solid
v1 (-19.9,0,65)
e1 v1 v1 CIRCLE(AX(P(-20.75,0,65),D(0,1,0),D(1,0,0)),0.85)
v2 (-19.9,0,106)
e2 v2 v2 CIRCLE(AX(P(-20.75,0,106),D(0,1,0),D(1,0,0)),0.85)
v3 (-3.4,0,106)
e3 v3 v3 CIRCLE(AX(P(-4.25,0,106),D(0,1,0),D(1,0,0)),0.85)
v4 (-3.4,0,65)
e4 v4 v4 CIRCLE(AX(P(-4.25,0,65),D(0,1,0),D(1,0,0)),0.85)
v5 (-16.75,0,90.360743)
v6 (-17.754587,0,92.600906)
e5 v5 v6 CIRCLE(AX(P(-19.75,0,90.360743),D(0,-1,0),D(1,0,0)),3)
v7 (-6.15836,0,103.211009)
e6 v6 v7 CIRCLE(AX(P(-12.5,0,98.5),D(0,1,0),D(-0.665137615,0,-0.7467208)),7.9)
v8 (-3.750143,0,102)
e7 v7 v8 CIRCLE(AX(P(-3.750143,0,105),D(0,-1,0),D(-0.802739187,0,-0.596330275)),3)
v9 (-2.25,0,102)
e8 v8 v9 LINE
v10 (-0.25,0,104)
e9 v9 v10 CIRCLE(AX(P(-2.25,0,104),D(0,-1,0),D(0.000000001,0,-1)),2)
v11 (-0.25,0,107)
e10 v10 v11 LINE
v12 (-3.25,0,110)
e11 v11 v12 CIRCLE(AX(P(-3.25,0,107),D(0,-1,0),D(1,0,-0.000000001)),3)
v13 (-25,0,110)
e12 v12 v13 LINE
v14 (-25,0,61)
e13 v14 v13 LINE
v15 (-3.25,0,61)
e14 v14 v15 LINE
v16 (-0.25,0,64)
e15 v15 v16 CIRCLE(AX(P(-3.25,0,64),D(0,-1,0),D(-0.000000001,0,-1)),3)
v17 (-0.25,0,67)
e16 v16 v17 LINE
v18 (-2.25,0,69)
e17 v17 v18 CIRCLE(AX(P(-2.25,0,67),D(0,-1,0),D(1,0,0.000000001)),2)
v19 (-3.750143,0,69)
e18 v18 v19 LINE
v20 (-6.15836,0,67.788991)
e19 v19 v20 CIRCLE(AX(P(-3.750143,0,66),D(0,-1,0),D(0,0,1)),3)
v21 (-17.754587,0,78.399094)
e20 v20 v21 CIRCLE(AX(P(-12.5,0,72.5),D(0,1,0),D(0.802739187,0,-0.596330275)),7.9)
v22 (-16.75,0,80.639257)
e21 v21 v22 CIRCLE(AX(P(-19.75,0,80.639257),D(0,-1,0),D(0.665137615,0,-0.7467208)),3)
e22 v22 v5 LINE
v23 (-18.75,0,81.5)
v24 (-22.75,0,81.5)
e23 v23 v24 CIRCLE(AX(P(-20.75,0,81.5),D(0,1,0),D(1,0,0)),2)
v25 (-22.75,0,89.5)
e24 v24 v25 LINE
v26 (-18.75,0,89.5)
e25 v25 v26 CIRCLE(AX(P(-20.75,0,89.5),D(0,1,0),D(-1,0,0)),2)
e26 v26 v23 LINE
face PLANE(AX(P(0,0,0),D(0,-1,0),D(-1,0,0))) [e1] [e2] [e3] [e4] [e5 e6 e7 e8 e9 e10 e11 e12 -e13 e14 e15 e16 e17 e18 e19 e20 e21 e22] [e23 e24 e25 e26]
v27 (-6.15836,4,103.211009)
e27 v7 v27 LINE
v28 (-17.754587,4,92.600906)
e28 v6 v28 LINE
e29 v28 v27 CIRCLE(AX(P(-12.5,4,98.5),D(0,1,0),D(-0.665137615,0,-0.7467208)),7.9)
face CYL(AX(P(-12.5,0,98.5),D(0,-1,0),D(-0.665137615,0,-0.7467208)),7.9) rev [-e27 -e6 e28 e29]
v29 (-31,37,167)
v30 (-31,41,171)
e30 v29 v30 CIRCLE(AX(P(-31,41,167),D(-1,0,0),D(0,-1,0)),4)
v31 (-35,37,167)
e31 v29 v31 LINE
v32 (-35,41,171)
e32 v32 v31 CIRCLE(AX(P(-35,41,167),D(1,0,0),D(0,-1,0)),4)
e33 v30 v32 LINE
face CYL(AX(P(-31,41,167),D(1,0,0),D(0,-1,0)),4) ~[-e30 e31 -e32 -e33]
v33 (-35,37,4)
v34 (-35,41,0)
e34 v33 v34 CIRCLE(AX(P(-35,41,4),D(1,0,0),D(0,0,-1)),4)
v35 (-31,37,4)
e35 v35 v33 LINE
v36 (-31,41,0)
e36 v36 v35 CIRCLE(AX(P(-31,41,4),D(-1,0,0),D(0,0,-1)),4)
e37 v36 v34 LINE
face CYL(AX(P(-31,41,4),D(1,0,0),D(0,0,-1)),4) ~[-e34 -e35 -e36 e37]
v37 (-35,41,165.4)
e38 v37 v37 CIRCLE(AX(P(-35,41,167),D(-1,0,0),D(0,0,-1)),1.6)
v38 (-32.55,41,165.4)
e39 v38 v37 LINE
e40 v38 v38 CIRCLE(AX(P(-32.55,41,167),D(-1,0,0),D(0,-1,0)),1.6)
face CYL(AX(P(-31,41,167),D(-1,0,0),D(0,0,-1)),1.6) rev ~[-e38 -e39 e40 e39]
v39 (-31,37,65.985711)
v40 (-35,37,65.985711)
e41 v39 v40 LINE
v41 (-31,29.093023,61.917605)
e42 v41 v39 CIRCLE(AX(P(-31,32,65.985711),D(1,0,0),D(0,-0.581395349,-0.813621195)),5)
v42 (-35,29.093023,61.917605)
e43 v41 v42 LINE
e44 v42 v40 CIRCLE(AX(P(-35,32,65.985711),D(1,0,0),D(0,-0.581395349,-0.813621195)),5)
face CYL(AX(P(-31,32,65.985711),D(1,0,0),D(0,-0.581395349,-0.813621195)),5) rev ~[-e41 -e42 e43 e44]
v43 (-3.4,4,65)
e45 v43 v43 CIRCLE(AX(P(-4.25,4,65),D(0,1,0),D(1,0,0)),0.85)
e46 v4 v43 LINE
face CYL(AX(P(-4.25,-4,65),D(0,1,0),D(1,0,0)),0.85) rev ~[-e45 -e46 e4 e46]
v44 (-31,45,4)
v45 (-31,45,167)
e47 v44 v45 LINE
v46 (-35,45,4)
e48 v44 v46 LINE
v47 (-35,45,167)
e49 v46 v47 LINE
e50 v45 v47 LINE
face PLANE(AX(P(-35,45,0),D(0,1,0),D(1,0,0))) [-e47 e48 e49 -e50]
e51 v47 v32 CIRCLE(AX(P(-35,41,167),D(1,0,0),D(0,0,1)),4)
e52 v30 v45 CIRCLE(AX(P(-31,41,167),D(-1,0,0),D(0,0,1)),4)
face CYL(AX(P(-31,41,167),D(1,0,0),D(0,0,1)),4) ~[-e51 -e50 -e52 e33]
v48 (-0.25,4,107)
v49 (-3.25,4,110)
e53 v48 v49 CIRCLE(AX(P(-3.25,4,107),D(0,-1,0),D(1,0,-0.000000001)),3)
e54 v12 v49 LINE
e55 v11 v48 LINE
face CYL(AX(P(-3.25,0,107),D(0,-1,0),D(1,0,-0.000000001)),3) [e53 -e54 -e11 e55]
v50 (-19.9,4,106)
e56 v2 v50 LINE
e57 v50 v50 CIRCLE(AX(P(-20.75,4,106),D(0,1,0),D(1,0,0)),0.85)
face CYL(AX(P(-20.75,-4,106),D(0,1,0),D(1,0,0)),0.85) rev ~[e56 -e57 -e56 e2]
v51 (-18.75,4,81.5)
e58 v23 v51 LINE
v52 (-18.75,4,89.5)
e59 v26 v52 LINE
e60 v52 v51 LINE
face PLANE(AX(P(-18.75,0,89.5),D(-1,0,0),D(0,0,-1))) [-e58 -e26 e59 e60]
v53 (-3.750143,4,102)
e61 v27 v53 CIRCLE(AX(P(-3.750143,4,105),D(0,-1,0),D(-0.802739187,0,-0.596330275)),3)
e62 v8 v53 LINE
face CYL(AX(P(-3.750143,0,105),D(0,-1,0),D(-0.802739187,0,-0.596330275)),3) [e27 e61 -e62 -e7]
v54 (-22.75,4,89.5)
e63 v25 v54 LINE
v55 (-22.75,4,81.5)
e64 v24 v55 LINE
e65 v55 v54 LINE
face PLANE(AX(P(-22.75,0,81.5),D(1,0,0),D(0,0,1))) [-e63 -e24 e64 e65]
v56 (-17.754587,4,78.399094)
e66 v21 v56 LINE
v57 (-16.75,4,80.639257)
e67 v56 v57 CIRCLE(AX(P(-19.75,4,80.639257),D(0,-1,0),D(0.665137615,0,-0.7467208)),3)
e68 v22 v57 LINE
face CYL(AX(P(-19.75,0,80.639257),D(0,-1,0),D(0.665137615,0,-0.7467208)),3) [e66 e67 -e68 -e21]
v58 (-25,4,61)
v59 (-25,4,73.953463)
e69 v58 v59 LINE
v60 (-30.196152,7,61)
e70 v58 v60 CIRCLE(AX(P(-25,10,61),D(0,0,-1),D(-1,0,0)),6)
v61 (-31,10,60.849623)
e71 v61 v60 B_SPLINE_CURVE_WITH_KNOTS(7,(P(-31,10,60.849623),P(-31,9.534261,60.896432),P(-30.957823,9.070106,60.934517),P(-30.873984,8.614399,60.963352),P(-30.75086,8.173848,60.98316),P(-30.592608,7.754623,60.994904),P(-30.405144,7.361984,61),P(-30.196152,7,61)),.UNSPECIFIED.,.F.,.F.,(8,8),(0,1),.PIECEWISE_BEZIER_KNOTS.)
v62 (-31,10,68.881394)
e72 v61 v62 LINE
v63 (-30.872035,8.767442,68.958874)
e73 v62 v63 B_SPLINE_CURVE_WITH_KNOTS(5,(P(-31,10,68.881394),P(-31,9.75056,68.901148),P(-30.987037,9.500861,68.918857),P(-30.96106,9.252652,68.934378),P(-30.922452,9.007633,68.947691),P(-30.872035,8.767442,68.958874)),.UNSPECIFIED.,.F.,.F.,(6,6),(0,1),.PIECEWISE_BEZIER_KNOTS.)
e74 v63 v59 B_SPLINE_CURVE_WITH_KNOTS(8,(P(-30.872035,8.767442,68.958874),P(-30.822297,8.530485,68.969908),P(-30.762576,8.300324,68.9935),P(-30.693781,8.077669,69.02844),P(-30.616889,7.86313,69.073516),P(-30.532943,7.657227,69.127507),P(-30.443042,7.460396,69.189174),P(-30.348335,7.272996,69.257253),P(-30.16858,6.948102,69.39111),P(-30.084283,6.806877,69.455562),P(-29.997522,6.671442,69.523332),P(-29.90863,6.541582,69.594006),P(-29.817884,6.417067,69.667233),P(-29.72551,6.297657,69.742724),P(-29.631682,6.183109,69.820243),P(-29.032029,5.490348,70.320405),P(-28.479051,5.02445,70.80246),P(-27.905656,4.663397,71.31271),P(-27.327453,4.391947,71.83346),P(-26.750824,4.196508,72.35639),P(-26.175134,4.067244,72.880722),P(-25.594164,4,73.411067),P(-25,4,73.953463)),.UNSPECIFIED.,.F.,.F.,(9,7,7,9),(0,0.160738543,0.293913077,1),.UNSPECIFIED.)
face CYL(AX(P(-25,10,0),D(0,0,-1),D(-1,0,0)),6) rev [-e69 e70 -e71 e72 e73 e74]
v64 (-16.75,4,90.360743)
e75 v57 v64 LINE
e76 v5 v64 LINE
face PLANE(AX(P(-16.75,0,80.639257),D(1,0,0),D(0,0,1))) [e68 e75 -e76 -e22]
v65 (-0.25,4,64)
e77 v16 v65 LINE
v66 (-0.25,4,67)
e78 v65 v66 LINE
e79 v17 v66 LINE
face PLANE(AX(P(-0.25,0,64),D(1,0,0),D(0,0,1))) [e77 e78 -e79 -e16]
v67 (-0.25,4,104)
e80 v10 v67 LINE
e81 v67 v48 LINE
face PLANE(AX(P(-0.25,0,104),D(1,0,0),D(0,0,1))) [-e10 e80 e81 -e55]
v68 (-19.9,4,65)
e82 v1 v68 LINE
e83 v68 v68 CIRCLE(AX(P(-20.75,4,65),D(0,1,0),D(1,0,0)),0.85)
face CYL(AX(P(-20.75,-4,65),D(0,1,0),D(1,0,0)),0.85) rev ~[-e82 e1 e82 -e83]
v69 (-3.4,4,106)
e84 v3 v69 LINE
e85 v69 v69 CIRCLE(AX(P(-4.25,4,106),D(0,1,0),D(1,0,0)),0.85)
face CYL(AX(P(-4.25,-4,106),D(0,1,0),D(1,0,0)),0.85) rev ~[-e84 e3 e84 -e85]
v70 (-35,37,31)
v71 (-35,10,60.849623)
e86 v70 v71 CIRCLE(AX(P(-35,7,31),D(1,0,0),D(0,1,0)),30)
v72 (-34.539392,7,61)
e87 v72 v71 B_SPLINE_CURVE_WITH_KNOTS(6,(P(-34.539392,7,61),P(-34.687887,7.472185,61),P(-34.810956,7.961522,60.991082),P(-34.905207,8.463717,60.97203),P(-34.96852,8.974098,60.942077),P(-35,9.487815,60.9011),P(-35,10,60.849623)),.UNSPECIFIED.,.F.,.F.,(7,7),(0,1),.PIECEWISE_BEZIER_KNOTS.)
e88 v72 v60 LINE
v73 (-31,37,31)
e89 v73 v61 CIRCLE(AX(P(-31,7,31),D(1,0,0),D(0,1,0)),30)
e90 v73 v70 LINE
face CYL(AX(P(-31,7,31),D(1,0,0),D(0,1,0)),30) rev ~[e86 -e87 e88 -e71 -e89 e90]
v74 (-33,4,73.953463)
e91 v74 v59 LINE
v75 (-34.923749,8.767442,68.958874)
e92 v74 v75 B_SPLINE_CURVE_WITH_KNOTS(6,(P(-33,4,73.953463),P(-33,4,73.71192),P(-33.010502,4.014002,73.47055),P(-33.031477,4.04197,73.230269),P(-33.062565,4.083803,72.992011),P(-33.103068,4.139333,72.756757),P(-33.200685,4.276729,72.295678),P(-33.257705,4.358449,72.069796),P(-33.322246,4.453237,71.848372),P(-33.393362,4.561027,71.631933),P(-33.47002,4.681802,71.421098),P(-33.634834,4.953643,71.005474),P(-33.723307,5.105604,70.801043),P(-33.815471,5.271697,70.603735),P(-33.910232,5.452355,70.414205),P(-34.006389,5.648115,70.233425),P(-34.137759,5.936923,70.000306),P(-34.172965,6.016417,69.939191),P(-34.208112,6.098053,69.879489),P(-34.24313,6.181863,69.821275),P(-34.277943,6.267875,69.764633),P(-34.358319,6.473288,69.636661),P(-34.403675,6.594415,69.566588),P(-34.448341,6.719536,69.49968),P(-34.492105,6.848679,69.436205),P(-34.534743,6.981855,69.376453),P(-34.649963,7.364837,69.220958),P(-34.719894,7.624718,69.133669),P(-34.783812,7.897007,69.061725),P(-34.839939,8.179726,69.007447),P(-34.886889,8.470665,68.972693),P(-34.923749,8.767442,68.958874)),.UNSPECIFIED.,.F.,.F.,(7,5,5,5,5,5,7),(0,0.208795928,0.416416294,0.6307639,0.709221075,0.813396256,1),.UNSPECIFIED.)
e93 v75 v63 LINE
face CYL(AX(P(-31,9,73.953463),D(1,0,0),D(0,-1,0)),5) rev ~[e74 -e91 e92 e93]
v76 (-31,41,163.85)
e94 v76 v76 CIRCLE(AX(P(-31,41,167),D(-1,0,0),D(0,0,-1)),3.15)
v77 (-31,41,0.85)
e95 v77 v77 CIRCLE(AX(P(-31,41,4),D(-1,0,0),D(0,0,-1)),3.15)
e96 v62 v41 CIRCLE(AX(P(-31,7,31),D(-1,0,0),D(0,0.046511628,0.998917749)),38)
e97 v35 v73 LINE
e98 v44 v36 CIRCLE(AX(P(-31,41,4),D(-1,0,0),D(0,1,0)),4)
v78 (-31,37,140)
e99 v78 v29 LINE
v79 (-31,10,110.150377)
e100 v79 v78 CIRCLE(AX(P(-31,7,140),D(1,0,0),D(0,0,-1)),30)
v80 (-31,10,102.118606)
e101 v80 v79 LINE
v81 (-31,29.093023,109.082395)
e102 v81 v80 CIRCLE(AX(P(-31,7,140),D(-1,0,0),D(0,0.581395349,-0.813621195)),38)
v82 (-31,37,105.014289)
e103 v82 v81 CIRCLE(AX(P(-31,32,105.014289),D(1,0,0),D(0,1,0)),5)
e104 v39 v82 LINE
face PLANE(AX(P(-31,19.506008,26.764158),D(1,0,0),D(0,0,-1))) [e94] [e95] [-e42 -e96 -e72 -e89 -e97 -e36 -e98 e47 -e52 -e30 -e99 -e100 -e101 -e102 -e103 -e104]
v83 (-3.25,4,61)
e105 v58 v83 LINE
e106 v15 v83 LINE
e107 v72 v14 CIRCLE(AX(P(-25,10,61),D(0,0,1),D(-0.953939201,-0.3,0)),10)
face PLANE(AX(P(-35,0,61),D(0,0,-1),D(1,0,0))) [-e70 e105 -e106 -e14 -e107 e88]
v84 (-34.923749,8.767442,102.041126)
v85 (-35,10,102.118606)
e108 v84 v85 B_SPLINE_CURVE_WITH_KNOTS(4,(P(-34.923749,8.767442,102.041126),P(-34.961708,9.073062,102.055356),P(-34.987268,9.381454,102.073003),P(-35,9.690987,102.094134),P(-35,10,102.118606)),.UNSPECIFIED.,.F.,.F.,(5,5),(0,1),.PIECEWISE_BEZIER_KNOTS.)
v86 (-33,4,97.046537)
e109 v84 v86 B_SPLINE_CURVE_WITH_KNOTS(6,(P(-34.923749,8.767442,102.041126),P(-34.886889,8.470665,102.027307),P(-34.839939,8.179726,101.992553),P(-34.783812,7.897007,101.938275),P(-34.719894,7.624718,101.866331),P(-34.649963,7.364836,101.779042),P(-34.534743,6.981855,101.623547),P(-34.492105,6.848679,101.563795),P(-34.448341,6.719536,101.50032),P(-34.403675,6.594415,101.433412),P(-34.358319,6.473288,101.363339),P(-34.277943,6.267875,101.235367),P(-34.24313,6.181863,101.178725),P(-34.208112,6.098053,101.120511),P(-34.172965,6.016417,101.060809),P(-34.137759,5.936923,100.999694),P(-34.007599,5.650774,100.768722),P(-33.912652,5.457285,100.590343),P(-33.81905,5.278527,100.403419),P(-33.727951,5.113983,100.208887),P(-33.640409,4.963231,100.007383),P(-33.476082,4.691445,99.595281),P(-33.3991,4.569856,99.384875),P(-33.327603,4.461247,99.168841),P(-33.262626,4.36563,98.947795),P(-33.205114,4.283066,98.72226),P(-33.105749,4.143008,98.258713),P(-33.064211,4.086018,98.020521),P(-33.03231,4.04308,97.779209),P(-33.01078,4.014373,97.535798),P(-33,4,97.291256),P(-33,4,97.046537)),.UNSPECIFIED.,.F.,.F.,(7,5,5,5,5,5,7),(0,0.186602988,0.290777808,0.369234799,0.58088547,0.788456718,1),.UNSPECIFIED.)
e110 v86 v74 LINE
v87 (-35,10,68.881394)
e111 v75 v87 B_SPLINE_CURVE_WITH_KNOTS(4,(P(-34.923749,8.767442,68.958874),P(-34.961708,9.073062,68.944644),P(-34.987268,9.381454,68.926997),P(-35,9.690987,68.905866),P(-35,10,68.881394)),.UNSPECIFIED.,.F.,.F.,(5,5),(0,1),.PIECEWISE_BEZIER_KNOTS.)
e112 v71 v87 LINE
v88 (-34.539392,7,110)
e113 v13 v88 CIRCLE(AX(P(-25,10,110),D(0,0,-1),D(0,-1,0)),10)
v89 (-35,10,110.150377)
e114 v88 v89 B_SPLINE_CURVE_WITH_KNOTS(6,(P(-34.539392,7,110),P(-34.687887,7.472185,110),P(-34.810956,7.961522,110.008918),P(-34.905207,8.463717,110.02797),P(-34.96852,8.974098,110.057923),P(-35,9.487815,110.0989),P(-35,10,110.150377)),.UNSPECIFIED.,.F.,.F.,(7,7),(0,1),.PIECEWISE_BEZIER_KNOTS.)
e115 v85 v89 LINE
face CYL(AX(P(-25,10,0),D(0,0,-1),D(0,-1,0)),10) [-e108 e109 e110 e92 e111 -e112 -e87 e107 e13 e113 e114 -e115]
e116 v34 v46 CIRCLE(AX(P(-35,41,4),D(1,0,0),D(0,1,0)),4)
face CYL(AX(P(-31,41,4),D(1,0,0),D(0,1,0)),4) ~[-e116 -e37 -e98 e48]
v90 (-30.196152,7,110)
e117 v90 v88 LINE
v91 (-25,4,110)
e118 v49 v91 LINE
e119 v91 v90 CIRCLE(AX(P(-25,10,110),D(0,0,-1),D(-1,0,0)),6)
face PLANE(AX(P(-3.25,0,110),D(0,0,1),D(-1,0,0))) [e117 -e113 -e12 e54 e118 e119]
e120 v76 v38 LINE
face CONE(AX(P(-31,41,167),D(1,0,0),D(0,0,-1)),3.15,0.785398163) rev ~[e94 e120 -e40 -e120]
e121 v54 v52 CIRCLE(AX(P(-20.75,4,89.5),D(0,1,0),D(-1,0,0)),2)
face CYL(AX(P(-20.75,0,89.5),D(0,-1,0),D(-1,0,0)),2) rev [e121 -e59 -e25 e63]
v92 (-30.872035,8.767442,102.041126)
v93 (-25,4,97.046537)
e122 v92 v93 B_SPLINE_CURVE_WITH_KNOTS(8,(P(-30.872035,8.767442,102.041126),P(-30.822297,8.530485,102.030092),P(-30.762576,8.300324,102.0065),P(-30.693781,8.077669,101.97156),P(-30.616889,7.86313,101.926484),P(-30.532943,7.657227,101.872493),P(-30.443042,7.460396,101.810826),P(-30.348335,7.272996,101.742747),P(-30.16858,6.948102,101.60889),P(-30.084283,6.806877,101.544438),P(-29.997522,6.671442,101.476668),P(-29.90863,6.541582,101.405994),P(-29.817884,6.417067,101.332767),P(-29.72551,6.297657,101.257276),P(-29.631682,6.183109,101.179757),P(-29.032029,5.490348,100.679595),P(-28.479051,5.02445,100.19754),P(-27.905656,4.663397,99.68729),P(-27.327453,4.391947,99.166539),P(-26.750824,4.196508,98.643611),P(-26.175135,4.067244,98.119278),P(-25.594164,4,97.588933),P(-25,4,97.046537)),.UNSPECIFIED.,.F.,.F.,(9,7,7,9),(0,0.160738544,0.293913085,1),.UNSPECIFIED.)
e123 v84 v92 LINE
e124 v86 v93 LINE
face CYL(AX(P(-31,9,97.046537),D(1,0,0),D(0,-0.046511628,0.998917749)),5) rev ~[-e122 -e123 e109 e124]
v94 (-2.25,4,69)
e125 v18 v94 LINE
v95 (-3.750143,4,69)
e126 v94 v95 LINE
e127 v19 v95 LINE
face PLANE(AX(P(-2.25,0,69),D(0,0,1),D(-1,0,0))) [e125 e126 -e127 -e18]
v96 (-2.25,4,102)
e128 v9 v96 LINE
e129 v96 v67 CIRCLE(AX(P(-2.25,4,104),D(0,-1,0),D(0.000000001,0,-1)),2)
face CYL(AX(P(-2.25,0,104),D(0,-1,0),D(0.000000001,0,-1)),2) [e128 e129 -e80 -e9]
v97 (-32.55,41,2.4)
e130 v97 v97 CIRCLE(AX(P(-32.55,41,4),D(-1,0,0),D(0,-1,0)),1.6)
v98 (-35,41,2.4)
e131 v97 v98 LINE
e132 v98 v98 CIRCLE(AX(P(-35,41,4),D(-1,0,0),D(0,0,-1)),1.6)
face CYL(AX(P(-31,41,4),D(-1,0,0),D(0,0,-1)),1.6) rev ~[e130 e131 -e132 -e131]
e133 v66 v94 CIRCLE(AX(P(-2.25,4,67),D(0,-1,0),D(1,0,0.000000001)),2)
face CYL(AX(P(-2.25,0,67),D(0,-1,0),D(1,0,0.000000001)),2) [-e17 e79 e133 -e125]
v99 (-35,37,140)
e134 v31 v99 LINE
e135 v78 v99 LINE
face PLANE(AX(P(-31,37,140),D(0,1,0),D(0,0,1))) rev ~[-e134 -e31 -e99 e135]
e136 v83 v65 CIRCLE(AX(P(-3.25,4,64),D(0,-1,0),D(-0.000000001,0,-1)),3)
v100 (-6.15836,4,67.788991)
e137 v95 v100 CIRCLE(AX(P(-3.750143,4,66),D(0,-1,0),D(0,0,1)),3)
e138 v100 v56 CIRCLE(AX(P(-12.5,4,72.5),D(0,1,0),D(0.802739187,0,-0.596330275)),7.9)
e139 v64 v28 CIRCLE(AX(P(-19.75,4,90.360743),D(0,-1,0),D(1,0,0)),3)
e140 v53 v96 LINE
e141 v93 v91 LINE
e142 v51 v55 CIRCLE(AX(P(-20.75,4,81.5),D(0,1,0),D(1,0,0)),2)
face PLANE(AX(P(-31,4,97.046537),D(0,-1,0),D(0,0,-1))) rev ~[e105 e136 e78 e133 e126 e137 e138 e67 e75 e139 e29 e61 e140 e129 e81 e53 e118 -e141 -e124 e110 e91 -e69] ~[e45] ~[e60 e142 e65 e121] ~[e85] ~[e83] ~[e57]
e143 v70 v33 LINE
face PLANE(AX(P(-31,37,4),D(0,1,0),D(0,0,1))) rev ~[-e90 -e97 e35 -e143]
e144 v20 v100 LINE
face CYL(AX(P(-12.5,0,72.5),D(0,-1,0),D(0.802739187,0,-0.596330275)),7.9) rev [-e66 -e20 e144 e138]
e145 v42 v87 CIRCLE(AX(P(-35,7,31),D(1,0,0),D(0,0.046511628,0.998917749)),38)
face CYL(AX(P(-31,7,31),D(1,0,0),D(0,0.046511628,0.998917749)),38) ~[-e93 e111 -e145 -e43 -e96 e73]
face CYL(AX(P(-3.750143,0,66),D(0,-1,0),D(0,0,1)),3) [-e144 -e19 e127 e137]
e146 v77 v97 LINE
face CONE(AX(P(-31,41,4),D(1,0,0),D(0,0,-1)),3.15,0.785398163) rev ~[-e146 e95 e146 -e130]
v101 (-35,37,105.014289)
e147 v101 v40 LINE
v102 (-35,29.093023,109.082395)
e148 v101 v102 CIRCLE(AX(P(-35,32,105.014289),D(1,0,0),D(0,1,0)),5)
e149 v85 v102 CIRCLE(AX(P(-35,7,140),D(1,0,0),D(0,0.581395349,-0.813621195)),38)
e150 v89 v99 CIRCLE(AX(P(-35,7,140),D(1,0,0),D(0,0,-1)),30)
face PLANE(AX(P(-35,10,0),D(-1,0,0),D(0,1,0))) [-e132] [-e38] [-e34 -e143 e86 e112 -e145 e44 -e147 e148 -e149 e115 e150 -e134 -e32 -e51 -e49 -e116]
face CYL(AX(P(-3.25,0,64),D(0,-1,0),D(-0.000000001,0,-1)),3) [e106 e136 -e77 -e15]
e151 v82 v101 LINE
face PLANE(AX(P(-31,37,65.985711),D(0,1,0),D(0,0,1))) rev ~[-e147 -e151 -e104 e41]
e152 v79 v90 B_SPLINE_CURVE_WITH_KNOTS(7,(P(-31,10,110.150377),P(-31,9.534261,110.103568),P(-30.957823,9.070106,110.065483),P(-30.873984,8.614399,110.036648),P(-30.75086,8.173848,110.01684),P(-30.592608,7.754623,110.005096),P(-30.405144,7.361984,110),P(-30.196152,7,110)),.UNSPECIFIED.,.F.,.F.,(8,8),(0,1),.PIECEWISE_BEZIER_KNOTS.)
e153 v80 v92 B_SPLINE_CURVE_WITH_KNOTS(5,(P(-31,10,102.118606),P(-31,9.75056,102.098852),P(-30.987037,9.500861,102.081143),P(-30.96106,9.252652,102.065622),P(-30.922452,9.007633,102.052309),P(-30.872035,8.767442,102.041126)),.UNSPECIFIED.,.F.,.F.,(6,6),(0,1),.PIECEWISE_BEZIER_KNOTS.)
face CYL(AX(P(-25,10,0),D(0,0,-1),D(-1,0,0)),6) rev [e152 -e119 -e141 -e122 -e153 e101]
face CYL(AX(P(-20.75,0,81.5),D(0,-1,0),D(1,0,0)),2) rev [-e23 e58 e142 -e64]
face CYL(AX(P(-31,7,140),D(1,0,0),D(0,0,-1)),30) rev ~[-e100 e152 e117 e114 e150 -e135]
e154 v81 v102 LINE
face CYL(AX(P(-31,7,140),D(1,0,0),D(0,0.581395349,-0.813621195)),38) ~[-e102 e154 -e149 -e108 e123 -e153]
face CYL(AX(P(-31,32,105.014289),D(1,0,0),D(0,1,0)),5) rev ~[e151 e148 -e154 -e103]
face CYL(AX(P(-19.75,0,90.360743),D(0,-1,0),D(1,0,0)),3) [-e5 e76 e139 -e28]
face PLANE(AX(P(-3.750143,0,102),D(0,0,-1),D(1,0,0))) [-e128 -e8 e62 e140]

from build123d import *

# Parameters (mm, degrees)
BOSS_EXTRU_1_DEPTH                             = 171
FRAISAGE_POUR_VIS_T_TE_FRAIS_E_M31_D           = 3.2
FRAISAGE_POUR_VIS_T_TE_FRAIS_E_M31_DEPTH       = 4
FRAISAGE_POUR_VIS_T_TE_FRAIS_E_M31_CSINK_D     = 6.3
FRAISAGE_POUR_VIS_T_TE_FRAIS_E_M31_CSINK_ANGLE = 90
D_GAGEMENT_M1_61_D                             = 1.7
D_GAGEMENT_M1_61_DEPTH                         = 4
ENL_V_MAT_EXTRU_1_DEPTH                        = 4
ENL_V_MAT_EXTRU_2_DEPTH                        = 31.75
ENL_V_MAT_EXTRU_2_DEPTH_BACK                   = 5


with BuildPart() as part:
    # Esquisse1 → Boss.-Extru.1 (new body)
    with BuildSketch(Plane.XY):
        with BuildLine():
            Line((0, 0), (-25, 0))
            ThreePointArc((-25, 0), (-32.071067812, 2.928932188), (-35, 10))
            Line((-35, 10), (-35, 45))
            Line((-35, 45), (-31, 45))
            Line((-31, 45), (-31, 10))
            ThreePointArc((-31, 10), (-29.242640687, 5.757359313), (-25, 4))
            Line((-25, 4), (0, 4))
            Line((0, 4), (0, 0))
        make_face()
    extrude(amount=BOSS_EXTRU_1_DEPTH)

    # Fraisage pour vis à tête fraisée M31
    with Locations(Plane(origin=(-31, 0, 0), x_dir=(0, 0, 1), z_dir=(1, 0, 0))):
        with Locations((4, -41), (167, -41)):
            CounterSinkHole(FRAISAGE_POUR_VIS_T_TE_FRAIS_E_M31_D / 2, FRAISAGE_POUR_VIS_T_TE_FRAIS_E_M31_CSINK_D / 2, depth=FRAISAGE_POUR_VIS_T_TE_FRAIS_E_M31_DEPTH, counter_sink_angle=FRAISAGE_POUR_VIS_T_TE_FRAIS_E_M31_CSINK_ANGLE)

    # Dégagement M1.61
    with Locations(Plane(origin=(0, 0, 0), x_dir=(-1, 0, 0), z_dir=(0, -1, 0))):
        with Locations((20.75, -65), (20.75, -106), (4.25, -106), (4.25, -65)):
            Hole(D_GAGEMENT_M1_61_D / 2, depth=D_GAGEMENT_M1_61_DEPTH)

    # Esquisse6 → Enlèv. mat.-Extru.1 (cut)
    with BuildSketch(Plane.XZ):
        with BuildLine():
            Line((-35, 61), (-3.25, 61))
            ThreePointArc((-3.25, 61), (-1.128679656, 61.878679656), (-0.25, 64))
            Line((-0.25, 64), (-0.25, 67))
            ThreePointArc((-0.25, 67), (-0.835786438, 68.414213562), (-2.25, 69))
            Line((-2.25, 69), (-3.750142858, 69))
            ThreePointArc((-3.750142858, 69), (-5.097923909, 68.680202649), (-6.15836042, 67.788990826))
            ThreePointArc((-6.15836042, 67.788990826), (-17.832822404, 66.671534919), (-17.754587156, 78.399094322))
            ThreePointArc((-17.754587156, 78.399094322), (-17.012643745, 79.411706018), (-16.75, 80.639256723))
            Line((-16.75, 80.639256723), (-16.75, 90.360743277))
            ThreePointArc((-16.75, 90.360743277), (-17.012643745, 91.588293982), (-17.754587156, 92.600905678))
            ThreePointArc((-17.754587156, 92.600905678), (-17.832822404, 104.328465081), (-6.15836042, 103.211009174))
            ThreePointArc((-6.15836042, 103.211009174), (-5.097923909, 102.319797351), (-3.750142858, 102))
            Line((-3.750142858, 102), (-2.25, 102))
            ThreePointArc((-2.25, 102), (-0.835786438, 102.585786438), (-0.25, 104))
            Line((-0.25, 104), (-0.25, 107))
            ThreePointArc((-0.25, 107), (-1.128679656, 109.121320344), (-3.25, 110))
            Line((-3.25, 110), (-35, 110))
            Line((-35, 110), (-35, 171))
            Line((-35, 171), (0, 171))
            Line((0, 171), (0, 0))
            Line((0, 0), (-35, 0))
            Line((-35, 0), (-35, 61))
        make_face()
        with BuildLine():
            Line((-18.75, 89.5), (-18.75, 81.5))
            ThreePointArc((-18.75, 81.5), (-20.75, 79.5), (-22.75, 81.5))
            Line((-22.75, 81.5), (-22.75, 89.5))
            ThreePointArc((-22.75, 89.5), (-20.75, 91.5), (-18.75, 89.5))
        make_face()
    extrude(amount=-ENL_V_MAT_EXTRU_1_DEPTH, mode=Mode.SUBTRACT)

    # Esquisse7 → Enlèv. mat.-Extru.2 (cut, two sides)
    with BuildSketch(Plane(origin=(-31, 0, 0), x_dir=(0, 0, -1), z_dir=(1, 0, 0))) as enl_v_mat_extru_2_sk:
        with BuildLine():
            ThreePointArc((-4, 45), (-1.171572875, 43.828427125), (0, 41))
            Line((0, 41), (0, 45))
            Line((0, 45), (-4, 45))
        make_face()
        with BuildLine():
            Line((0, 4), (0, 41))
            ThreePointArc((0, 41), (-1.171572875, 38.171572875), (-4, 37))
            Line((-4, 37), (-31, 37))
            ThreePointArc((-31, 37), (-52.213203436, 28.213203436), (-61, 7))
            Line((-61, 7), (-61, 4))
            Line((-61, 4), (0, 4))
        make_face()
        with BuildLine():
            ThreePointArc((-167, 37), (-169.828427125, 38.171572875), (-171, 41))
            Line((-171, 41), (-171, 4))
            Line((-171, 4), (-110, 4))
            Line((-110, 4), (-110, 7))
            ThreePointArc((-110, 7), (-118.786796564, 28.213203436), (-140, 37))
            Line((-140, 37), (-167, 37))
        make_face()
        with BuildLine():
            Line((-171, 45), (-171, 41))
            ThreePointArc((-171, 41), (-169.828427125, 43.828427125), (-167, 45))
            Line((-167, 45), (-171, 45))
        make_face()
        with BuildLine():
            Line((-65.985711369, 37), (-105.014288631, 37))
            ThreePointArc((-105.014288631, 37), (-109.460347769, 34.287478555), (-109.082394604, 29.093023256))
            ThreePointArc((-109.082394604, 29.093023256), (-104.093528666, 19.438863146), (-102.041125553, 8.76744186))
            ThreePointArc((-102.041125553, 8.76744186), (-100.498870029, 5.383178834), (-97.04653681, 4))
            Line((-97.04653681, 4), (-73.95346319, 4))
            ThreePointArc((-73.95346319, 4), (-70.501129971, 5.383178834), (-68.958874447, 8.76744186))
            ThreePointArc((-68.958874447, 8.76744186), (-66.906471334, 19.438863146), (-61.917605396, 29.093023256))
            ThreePointArc((-61.917605396, 29.093023256), (-61.539652231, 34.287478555), (-65.985711369, 37))
        make_face()
    extrude(amount=ENL_V_MAT_EXTRU_2_DEPTH, mode=Mode.SUBTRACT)
    extrude(enl_v_mat_extru_2_sk.sketch, amount=-ENL_V_MAT_EXTRU_2_DEPTH_BACK, mode=Mode.SUBTRACT)


solid = part.part
